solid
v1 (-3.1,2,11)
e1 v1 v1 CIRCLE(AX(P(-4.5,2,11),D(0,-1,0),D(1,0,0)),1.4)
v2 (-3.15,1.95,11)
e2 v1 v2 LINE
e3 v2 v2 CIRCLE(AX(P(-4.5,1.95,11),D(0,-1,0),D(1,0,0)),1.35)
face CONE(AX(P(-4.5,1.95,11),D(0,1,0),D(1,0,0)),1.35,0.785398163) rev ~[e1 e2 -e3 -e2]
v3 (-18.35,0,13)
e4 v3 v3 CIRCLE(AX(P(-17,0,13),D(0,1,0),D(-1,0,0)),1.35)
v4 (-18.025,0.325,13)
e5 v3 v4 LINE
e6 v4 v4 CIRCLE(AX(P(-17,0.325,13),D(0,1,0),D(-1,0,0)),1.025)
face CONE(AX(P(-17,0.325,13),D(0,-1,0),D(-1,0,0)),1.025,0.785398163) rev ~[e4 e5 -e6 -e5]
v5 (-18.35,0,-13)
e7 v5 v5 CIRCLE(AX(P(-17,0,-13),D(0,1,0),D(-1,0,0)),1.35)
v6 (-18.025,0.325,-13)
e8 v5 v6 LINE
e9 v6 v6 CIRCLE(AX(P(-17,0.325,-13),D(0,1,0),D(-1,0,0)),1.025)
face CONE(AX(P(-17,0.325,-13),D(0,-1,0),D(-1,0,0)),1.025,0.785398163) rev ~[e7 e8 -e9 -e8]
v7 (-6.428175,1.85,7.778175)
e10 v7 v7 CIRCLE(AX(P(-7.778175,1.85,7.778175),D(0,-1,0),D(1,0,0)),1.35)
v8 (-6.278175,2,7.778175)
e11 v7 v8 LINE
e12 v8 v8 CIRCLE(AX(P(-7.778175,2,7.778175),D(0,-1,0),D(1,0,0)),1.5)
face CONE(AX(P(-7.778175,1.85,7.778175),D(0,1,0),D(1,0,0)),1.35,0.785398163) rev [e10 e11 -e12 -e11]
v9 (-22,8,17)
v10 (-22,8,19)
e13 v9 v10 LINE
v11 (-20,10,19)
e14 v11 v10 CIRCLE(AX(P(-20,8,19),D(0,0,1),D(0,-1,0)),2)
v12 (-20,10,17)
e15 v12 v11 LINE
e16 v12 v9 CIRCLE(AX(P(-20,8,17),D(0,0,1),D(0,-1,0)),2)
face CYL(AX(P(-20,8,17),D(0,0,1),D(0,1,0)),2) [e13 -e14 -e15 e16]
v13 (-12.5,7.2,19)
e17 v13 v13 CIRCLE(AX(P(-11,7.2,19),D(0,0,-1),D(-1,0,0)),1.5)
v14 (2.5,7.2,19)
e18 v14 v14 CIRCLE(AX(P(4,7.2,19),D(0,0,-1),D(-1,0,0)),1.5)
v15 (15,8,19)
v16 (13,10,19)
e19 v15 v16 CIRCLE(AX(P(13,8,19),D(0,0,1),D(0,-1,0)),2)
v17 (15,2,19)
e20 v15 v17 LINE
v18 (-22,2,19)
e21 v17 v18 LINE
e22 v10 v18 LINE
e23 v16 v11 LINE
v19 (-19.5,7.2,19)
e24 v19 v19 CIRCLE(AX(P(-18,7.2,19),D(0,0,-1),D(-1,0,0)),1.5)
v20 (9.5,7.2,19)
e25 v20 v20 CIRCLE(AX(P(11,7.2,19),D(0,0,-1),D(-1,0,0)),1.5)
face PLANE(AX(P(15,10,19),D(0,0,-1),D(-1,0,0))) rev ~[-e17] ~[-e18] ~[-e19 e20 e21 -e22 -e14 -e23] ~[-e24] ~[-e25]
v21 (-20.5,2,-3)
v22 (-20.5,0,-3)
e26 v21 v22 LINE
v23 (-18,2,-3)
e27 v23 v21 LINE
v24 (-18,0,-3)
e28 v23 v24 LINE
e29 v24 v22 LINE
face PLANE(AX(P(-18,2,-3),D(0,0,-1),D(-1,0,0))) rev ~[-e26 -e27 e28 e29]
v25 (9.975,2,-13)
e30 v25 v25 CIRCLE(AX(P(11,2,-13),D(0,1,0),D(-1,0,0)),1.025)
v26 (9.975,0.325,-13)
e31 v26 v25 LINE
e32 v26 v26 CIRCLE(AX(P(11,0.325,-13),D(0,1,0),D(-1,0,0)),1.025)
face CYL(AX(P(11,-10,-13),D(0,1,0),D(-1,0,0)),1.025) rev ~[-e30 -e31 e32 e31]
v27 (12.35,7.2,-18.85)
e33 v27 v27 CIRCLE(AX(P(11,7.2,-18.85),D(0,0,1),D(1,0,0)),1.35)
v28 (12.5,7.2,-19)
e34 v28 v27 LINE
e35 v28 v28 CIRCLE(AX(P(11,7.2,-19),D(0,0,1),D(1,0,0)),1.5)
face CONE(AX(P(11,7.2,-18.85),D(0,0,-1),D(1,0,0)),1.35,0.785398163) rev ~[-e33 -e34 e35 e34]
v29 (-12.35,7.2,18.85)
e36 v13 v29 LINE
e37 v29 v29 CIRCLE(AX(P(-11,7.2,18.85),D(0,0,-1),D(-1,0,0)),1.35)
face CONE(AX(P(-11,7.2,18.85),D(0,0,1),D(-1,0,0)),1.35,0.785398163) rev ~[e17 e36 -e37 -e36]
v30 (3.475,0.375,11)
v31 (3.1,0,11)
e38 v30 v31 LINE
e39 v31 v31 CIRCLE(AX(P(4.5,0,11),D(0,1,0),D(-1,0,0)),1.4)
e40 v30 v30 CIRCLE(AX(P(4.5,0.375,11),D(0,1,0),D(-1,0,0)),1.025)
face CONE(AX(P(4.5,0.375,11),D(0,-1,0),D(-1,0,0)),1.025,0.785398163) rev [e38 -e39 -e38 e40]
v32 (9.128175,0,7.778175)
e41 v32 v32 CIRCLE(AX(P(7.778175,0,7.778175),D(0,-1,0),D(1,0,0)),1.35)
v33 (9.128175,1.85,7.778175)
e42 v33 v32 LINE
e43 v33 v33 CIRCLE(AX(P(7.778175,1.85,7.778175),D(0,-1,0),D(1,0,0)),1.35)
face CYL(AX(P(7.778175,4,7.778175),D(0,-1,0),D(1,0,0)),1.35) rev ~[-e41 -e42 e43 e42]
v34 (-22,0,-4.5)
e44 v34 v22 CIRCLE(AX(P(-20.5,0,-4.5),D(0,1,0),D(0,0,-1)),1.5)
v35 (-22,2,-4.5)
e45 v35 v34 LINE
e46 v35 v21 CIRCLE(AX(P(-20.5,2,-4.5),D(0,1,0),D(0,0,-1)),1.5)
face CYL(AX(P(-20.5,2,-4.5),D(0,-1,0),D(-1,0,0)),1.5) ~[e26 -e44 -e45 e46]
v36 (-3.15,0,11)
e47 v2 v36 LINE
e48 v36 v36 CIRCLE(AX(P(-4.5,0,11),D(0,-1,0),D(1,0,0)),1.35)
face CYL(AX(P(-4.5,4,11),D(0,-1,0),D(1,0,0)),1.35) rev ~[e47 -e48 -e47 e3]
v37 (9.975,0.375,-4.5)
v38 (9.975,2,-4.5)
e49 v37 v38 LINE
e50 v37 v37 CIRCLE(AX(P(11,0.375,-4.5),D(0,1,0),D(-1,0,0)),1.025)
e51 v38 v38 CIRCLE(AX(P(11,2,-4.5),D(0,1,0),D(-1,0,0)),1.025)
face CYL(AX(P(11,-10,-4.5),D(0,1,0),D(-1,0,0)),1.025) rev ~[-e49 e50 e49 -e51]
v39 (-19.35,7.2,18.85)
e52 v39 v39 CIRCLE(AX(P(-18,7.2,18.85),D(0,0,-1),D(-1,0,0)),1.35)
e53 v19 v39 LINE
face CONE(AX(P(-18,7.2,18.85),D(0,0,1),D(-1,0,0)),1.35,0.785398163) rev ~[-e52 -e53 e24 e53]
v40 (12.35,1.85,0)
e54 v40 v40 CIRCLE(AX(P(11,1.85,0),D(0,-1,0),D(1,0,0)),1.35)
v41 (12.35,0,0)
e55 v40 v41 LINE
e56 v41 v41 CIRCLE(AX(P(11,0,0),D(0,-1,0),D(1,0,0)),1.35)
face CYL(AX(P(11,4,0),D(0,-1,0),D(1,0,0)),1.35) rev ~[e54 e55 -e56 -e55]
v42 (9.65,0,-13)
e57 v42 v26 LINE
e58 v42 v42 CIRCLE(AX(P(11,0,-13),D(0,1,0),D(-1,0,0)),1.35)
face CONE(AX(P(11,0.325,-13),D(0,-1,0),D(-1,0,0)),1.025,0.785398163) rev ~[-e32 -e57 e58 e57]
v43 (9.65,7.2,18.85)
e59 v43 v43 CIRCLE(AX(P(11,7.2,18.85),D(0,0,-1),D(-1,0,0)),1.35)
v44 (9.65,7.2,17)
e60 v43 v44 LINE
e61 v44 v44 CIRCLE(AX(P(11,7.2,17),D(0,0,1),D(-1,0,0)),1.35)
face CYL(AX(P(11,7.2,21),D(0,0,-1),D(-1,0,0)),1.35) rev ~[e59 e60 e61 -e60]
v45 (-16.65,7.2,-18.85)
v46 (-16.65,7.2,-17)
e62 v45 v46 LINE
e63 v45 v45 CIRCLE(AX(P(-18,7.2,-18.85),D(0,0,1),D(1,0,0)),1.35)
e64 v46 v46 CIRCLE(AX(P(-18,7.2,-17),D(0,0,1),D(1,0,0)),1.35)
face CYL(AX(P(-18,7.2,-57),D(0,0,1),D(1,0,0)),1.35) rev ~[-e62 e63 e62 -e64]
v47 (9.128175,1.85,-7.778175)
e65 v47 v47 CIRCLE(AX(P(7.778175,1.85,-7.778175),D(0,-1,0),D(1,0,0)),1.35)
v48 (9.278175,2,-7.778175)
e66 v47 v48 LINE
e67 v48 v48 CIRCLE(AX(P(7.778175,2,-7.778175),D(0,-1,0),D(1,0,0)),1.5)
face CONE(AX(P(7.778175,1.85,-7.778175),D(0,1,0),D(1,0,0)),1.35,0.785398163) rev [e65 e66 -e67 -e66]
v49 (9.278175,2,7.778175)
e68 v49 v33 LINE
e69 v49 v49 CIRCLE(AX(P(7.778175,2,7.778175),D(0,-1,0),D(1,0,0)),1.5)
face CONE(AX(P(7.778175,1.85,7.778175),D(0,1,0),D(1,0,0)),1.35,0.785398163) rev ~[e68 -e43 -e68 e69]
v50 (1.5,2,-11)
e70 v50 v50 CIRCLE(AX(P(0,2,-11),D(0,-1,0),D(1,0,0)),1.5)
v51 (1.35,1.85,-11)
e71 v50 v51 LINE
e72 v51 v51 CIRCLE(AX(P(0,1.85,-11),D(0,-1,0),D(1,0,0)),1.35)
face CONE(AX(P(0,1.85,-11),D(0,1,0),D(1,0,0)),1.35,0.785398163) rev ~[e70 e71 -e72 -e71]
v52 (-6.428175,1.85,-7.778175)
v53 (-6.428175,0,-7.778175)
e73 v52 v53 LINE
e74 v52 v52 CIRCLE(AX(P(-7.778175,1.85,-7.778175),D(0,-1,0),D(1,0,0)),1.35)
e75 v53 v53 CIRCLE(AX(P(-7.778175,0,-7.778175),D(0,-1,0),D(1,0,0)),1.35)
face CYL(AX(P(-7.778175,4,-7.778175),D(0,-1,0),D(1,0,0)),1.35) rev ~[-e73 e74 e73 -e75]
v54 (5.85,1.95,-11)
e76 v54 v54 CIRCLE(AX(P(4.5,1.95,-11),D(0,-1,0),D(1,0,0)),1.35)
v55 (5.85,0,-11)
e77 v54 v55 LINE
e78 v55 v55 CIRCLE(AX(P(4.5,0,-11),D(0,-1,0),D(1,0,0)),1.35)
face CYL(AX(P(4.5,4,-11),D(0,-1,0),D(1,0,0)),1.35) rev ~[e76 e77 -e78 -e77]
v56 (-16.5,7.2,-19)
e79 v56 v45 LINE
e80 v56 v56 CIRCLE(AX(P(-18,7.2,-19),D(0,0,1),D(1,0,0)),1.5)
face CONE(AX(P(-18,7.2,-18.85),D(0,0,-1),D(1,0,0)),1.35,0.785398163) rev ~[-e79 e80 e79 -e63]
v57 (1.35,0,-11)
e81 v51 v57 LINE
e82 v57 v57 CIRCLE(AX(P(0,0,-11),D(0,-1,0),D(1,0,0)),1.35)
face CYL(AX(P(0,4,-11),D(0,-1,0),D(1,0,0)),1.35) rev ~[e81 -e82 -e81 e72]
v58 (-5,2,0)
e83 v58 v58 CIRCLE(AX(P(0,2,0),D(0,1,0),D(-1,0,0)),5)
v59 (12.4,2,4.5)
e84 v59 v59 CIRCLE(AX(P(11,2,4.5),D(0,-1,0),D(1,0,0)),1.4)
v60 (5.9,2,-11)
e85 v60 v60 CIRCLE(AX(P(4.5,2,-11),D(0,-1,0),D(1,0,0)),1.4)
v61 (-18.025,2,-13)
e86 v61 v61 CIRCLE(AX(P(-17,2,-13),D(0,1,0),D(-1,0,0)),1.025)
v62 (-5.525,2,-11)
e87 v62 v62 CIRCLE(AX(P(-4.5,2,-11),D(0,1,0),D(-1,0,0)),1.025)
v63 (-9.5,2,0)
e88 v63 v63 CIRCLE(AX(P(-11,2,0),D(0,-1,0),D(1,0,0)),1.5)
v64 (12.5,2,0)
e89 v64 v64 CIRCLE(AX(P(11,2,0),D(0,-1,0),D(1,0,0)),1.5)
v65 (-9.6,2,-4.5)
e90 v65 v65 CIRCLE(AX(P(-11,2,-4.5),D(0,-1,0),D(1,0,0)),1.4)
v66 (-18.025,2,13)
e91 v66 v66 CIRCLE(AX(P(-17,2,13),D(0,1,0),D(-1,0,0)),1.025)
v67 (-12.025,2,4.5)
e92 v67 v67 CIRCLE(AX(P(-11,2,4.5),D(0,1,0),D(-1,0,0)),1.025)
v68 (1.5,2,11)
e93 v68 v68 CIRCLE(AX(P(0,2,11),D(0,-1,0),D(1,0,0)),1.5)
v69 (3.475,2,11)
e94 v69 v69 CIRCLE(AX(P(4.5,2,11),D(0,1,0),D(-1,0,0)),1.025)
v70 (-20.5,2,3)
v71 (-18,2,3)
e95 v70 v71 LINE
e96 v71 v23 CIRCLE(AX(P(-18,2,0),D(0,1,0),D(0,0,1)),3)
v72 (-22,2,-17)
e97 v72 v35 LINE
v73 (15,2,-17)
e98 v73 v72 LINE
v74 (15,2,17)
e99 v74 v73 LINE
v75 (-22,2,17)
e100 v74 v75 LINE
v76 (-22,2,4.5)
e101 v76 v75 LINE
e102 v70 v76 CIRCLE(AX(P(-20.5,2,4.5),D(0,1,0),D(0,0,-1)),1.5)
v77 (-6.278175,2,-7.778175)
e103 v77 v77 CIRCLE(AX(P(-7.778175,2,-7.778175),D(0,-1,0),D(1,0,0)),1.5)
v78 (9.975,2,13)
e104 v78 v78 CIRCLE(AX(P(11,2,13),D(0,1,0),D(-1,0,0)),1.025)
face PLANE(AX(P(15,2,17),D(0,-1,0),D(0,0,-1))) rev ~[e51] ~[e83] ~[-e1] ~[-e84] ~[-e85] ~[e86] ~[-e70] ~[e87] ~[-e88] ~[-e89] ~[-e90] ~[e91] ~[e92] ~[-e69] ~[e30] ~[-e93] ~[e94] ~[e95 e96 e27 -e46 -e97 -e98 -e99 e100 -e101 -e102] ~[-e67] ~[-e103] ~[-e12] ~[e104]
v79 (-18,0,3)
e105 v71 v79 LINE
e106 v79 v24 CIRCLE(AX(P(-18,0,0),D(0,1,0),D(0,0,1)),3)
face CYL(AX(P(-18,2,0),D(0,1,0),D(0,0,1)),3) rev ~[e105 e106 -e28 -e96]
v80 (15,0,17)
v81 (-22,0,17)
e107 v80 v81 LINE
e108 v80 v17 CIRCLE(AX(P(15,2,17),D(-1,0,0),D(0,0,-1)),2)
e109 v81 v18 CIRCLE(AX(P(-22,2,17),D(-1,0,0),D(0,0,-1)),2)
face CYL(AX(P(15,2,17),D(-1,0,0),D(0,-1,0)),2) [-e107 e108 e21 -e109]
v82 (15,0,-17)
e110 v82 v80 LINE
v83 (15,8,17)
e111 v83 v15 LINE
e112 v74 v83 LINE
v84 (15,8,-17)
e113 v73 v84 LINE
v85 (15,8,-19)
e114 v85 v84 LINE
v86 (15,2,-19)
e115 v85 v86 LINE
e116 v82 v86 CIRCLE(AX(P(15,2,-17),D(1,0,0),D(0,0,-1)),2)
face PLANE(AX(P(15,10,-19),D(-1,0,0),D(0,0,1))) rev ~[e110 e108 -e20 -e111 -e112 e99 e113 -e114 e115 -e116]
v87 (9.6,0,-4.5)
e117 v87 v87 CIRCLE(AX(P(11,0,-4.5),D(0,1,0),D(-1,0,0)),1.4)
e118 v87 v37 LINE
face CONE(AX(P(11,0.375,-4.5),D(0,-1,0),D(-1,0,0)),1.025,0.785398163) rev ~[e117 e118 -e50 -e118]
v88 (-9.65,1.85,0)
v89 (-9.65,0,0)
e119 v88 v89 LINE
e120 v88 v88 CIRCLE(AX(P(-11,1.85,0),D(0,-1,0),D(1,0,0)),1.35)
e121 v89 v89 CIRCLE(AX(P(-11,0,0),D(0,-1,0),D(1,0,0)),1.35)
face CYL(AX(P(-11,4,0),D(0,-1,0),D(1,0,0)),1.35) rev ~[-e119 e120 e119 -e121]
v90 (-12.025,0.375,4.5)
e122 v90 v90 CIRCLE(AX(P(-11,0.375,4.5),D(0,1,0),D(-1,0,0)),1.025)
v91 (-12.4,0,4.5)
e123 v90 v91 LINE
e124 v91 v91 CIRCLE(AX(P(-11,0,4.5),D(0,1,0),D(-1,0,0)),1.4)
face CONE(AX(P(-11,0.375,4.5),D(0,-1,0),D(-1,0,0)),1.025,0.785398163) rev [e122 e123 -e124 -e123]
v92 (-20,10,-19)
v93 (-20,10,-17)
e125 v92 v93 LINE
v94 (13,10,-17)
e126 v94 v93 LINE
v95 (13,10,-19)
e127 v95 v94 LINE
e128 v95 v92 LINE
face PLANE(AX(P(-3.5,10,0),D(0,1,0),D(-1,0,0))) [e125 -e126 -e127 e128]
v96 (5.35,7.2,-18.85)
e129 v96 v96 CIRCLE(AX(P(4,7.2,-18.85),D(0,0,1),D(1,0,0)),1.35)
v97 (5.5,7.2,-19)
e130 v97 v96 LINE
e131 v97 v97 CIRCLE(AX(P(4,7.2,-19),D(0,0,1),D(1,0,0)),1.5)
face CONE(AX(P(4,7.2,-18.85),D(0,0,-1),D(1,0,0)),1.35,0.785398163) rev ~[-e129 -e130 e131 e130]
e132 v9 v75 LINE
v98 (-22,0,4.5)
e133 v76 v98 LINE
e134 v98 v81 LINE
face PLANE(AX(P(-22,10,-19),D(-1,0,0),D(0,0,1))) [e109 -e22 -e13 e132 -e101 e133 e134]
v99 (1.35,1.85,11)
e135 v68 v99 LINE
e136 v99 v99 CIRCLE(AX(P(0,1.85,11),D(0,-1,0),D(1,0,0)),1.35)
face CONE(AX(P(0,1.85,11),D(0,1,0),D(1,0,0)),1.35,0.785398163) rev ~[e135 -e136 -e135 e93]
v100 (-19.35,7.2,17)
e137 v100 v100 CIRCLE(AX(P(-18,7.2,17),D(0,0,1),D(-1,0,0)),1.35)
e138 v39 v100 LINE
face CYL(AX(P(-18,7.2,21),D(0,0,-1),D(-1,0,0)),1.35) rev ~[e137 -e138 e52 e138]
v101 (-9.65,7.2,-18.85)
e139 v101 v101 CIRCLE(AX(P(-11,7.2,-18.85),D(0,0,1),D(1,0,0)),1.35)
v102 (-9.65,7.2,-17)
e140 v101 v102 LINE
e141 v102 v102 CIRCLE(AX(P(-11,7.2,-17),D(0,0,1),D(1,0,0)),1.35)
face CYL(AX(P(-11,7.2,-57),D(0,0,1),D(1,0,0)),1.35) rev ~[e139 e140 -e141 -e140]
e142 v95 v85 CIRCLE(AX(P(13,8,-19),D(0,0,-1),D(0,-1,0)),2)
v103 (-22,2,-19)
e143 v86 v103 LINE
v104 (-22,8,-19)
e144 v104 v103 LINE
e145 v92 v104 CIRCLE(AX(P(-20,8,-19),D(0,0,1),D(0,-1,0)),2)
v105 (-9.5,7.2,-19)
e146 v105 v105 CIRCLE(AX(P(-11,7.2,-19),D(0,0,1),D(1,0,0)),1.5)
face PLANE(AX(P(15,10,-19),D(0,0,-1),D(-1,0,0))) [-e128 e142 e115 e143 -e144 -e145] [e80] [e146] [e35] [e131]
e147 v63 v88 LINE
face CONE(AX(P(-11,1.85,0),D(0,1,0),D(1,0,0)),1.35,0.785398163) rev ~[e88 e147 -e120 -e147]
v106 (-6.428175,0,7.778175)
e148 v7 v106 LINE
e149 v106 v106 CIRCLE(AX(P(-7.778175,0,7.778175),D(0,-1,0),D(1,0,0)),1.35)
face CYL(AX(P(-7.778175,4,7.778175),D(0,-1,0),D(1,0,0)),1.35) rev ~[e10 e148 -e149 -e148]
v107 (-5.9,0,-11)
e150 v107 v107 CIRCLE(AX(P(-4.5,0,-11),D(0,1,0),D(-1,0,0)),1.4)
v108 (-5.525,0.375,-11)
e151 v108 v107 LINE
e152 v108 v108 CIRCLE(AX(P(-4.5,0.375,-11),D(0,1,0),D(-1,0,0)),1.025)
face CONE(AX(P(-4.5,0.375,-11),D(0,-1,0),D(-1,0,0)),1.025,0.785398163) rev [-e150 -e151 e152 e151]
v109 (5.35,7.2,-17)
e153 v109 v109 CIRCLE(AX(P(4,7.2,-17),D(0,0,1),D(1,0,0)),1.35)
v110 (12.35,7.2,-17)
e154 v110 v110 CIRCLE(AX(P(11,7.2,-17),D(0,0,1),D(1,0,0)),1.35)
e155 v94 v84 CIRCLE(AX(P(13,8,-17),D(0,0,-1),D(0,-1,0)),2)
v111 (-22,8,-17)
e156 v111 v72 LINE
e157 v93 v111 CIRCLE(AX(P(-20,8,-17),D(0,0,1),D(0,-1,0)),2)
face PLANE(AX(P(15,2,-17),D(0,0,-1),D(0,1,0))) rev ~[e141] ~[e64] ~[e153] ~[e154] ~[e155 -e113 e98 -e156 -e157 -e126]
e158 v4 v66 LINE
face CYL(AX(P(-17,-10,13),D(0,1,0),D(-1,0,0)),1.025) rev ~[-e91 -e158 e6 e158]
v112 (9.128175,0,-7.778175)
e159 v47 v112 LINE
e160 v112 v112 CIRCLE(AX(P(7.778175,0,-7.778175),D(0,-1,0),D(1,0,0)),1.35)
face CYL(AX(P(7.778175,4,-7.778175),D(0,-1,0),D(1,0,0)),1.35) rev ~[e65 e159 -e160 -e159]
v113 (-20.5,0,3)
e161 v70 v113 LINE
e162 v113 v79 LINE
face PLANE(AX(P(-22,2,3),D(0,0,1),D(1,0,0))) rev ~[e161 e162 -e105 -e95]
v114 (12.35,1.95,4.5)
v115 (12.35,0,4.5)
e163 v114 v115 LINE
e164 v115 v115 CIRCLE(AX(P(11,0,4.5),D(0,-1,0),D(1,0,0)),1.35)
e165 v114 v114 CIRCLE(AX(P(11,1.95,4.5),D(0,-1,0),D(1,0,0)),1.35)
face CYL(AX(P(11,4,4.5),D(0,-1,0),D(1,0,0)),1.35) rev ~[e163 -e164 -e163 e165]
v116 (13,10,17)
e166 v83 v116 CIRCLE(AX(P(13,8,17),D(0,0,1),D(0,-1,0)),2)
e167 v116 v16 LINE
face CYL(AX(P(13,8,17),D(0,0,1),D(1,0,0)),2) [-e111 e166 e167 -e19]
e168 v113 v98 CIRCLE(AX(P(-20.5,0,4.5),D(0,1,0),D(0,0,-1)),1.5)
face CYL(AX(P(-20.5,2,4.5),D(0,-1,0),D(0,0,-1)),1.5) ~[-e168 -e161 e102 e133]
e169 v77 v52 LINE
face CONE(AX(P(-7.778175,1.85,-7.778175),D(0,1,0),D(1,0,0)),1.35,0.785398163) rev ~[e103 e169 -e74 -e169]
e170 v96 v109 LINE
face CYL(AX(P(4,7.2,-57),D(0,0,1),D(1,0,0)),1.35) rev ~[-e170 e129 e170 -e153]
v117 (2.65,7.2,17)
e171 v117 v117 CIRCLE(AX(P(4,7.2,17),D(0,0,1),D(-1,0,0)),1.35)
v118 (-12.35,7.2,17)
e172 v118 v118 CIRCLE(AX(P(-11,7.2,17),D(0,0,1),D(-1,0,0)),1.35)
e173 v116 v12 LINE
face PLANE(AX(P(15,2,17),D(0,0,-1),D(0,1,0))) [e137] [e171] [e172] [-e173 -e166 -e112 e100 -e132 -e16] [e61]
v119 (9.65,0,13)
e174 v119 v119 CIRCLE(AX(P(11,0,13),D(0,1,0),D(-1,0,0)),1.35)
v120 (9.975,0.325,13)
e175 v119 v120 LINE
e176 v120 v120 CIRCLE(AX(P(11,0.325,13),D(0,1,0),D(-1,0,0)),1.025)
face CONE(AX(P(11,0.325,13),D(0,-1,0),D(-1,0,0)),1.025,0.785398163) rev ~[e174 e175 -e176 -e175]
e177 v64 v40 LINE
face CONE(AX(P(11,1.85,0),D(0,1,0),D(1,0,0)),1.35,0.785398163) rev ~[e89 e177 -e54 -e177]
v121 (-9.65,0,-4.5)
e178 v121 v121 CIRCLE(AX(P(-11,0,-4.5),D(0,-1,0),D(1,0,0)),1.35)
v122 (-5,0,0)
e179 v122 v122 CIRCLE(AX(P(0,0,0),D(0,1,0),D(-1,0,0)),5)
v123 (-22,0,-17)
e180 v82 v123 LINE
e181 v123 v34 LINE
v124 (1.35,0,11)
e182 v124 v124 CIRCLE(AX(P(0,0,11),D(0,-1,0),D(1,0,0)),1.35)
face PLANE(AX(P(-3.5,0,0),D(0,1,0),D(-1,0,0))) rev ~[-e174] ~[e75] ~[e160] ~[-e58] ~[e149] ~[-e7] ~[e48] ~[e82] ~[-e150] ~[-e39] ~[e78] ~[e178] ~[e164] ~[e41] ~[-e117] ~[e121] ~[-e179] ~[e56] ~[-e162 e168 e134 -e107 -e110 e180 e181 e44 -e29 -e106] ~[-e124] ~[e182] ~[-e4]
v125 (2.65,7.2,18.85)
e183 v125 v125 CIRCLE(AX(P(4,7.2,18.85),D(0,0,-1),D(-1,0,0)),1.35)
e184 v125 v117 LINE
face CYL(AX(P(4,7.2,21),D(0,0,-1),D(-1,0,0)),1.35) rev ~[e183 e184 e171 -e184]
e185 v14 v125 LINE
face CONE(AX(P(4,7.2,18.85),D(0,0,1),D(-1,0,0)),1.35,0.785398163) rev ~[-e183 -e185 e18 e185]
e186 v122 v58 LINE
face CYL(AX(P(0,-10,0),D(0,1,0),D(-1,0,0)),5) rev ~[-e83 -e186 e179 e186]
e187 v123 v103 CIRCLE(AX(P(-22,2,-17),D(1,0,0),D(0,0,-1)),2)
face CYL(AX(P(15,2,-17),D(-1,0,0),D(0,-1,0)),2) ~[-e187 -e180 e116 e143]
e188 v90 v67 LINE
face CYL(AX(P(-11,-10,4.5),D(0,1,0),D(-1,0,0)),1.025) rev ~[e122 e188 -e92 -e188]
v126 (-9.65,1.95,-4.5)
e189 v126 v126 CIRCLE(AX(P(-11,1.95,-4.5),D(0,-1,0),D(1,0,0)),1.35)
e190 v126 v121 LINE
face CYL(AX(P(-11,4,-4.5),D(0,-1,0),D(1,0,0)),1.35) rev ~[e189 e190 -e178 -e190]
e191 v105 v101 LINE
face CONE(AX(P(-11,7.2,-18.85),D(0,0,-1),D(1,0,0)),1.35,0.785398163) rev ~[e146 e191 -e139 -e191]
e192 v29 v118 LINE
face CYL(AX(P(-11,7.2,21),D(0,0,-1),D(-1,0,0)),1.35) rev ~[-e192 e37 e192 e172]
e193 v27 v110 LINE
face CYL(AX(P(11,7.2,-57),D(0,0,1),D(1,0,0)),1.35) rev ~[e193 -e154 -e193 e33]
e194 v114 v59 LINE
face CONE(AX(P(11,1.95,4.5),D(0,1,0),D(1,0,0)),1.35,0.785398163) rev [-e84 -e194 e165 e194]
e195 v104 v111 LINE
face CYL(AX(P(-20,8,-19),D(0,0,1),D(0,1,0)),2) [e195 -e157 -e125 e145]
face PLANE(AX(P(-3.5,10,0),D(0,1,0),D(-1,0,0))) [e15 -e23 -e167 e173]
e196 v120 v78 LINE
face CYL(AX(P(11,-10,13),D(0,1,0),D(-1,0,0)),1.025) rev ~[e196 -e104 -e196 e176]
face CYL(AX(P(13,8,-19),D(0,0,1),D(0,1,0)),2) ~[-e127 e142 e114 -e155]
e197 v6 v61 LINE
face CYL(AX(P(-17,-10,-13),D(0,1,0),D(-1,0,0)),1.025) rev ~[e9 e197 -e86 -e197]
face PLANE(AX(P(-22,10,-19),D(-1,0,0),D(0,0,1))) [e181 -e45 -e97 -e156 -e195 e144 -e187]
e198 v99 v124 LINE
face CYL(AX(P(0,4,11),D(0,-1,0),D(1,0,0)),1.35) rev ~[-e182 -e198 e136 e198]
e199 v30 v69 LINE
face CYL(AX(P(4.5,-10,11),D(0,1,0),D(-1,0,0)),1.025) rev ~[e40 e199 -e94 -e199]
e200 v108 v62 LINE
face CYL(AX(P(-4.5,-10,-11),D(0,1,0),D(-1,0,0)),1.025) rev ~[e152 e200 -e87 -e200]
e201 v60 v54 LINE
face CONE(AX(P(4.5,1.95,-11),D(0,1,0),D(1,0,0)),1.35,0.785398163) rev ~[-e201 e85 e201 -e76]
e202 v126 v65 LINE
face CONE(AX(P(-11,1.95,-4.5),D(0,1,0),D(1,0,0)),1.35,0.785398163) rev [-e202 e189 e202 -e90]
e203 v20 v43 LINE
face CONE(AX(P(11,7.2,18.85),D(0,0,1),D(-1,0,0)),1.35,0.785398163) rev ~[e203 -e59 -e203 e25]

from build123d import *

# Parameters (mm, degrees)
SKETCH1_W           = 37
SKETCH1_H           = 38
BOSS_EXTRUDE1_DEPTH = 10
SKETCH2_W           = 34
SKETCH2_H           = 8
CUT_EXTRUDE1_DEPTH  = 38
CUT_EXTRUDE2_DEPTH  = 3
HOLE1_D             = 2.05
HOLE1_DEPTH         = 10
HOLE2_D             = 2.05
HOLE2_DEPTH         = 10
HOLE3_D             = 2.05
HOLE3_DEPTH         = 10
HOLE4_D             = 2.05
HOLE4_DEPTH         = 10
HOLE5_D             = 2.05
HOLE5_DEPTH         = 10
HOLE6_D             = 2.05
HOLE6_DEPTH         = 10
HOLE7_D             = 2.05
HOLE7_DEPTH         = 10
HOLE8_D             = 2.05
HOLE8_DEPTH         = 10
HOLE9_D             = 10
HOLE9_DEPTH         = 10
HOLE10_D            = 2.7
HOLE10_DEPTH        = 2
HOLE11_D            = 2.7
HOLE11_DEPTH        = 2
HOLE12_D            = 2.7
HOLE12_DEPTH        = 2
HOLE13_D            = 2.7
HOLE13_DEPTH        = 2
HOLE14_D            = 2.7
HOLE14_DEPTH        = 2
HOLE15_D            = 2.7
HOLE15_DEPTH        = 2
HOLE16_D            = 2.7
HOLE16_DEPTH        = 2
HOLE17_D            = 2.7
HOLE17_DEPTH        = 2
HOLE18_D            = 2.7
HOLE18_DEPTH        = 2
HOLE19_D            = 2.7
HOLE19_DEPTH        = 2
HOLE20_D            = 2.7
HOLE20_DEPTH        = 2
HOLE21_D            = 2.7
HOLE21_DEPTH        = 2
HOLE22_D            = 2.7
HOLE22_DEPTH        = 2
HOLE23_D            = 2.7
HOLE23_DEPTH        = 2
HOLE24_D            = 2.7
HOLE24_DEPTH        = 2
HOLE25_D            = 2.7
HOLE25_DEPTH        = 2
HOLE26_D            = 2.7
HOLE26_DEPTH        = 38
HOLE27_D            = 2.7
HOLE27_DEPTH        = 38
HOLE28_D            = 2.7
HOLE28_DEPTH        = 38
HOLE29_D            = 2.7
HOLE29_DEPTH        = 38
CHAMFER1_SIZE       = 0.15
CHAMFER2_SIZE       = 0.15
CHAMFER3_SIZE       = 0.15
CHAMFER4_SIZE       = 0.15
CHAMFER5_SIZE       = 0.15
CHAMFER6_SIZE       = 0.15
CHAMFER7_SIZE       = 0.15
CHAMFER8_SIZE       = 0.15
CHAMFER9_SIZE       = 0.15
CHAMFER10_SIZE      = 0.15
CHAMFER11_SIZE      = 0.15
CHAMFER12_SIZE      = 0.05
CHAMFER13_SIZE      = 0.375
CHAMFER14_SIZE      = 0.05
CHAMFER15_SIZE      = 0.375
CHAMFER16_SIZE      = 0.15
CHAMFER17_SIZE      = 0.375
CHAMFER18_SIZE      = 0.325
CHAMFER19_SIZE      = 0.375
CHAMFER20_SIZE      = 0.15
CHAMFER21_SIZE      = 0.325
CHAMFER22_SIZE      = 0.05
CHAMFER23_SIZE      = 0.325
CHAMFER24_SIZE      = 0.15
CHAMFER25_SIZE      = 0.325
CHAMFER26_SIZE      = 0.05
CHAMFER27_SIZE      = 0.15
CHAMFER28_SIZE      = 0.15
FILLET1_R           = 1.5
FILLET2_R           = 1.5
FILLET3_R           = 2
FILLET4_R           = 2
FILLET5_R           = 2
FILLET6_R           = 2
FILLET7_R           = 2
FILLET8_R           = 2


with BuildPart() as part:
    # Sketch1 → Boss-Extrude1 (new body)
    with BuildSketch(Plane(origin=(0, 10, 0), x_dir=(-1, 0, 0), z_dir=(0, 1, 0))):
        with Locations((3.5, 0)):
            Rectangle(SKETCH1_W, SKETCH1_H)
    extrude(amount=-BOSS_EXTRUDE1_DEPTH)

    # Sketch2 → Cut-Extrude1 (cut, through all)
    with BuildSketch(Plane(origin=(15, 0, 0), x_dir=(0, 0, -1), z_dir=(1, 0, 0))):
        with Locations((0, 6)):
            Rectangle(SKETCH2_W, SKETCH2_H)
    extrude(amount=-CUT_EXTRUDE1_DEPTH, mode=Mode.SUBTRACT)

    # Sketch3 → Cut-Extrude2 (cut, through all)
    with BuildSketch(Plane(origin=(0, 2, 0), x_dir=(-1, 0, 0), z_dir=(0, 1, 0))):
        with BuildLine():
            Line((22, -3), (22, 3))
            Line((22, 3), (18, 3))
            ThreePointArc((18, 3), (15, 0), (18, -3))
            Line((18, -3), (22, -3))
        make_face()
    extrude(amount=-CUT_EXTRUDE2_DEPTH, mode=Mode.SUBTRACT)

    # Hole1
    with Locations(Plane.XZ):
        with Locations((-4.5, -11)):
            Hole(HOLE1_D / 2, depth=HOLE1_DEPTH)

    # Hole2
    with Locations(Plane.XZ):
        with Locations((-11, 4.5)):
            Hole(HOLE2_D / 2, depth=HOLE2_DEPTH)

    # Hole3
    with Locations(Plane.XZ):
        with Locations((4.5, 11)):
            Hole(HOLE3_D / 2, depth=HOLE3_DEPTH)

    # Hole4
    with Locations(Plane.XZ):
        with Locations((11, -4.5)):
            Hole(HOLE4_D / 2, depth=HOLE4_DEPTH)

    # Hole5
    with Locations(Plane.XZ):
        with Locations((-17, 13)):
            Hole(HOLE5_D / 2, depth=HOLE5_DEPTH)

    # Hole6
    with Locations(Plane.XZ):
        with Locations((-17, -13)):
            Hole(HOLE6_D / 2, depth=HOLE6_DEPTH)

    # Hole7
    with Locations(Plane.XZ):
        with Locations((11, 13)):
            Hole(HOLE7_D / 2, depth=HOLE7_DEPTH)

    # Hole8
    with Locations(Plane.XZ):
        with Locations((11, -13)):
            Hole(HOLE8_D / 2, depth=HOLE8_DEPTH)

    # Hole9
    with Locations(Plane.XZ):
        with Locations((0, 0)):
            Hole(HOLE9_D / 2, depth=HOLE9_DEPTH)

    # Hole10
    with Locations(Plane(origin=(0, 2, 0), x_dir=(-1, 0, 0), z_dir=(0, 1, 0))):
        with Locations((11, -4.5)):
            Hole(HOLE10_D / 2, depth=HOLE10_DEPTH)

    # Hole11
    with Locations(Plane(origin=(0, 2, 0), x_dir=(-1, 0, 0), z_dir=(0, 1, 0))):
        with Locations((4.5, 11)):
            Hole(HOLE11_D / 2, depth=HOLE11_DEPTH)

    # Hole12
    with Locations(Plane(origin=(0, 2, 0), x_dir=(-1, 0, 0), z_dir=(0, 1, 0))):
        with Locations((-11, 4.5)):
            Hole(HOLE12_D / 2, depth=HOLE12_DEPTH)

    # Hole13
    with Locations(Plane(origin=(0, 2, 0), x_dir=(-1, 0, 0), z_dir=(0, 1, 0))):
        with Locations((-4.5, -11)):
            Hole(HOLE13_D / 2, depth=HOLE13_DEPTH)

    # Hole14
    with Locations(Plane(origin=(0, 2, 0), x_dir=(-1, 0, 0), z_dir=(0, 1, 0))):
        with Locations((-7.778174593, 7.778174593)):
            Hole(HOLE14_D / 2, depth=HOLE14_DEPTH)

    # Hole15
    with Locations(Plane(origin=(0, 2, 0), x_dir=(-1, 0, 0), z_dir=(0, 1, 0))):
        with Locations((0, 11)):
            Hole(HOLE15_D / 2, depth=HOLE15_DEPTH)

    # Hole16
    with Locations(Plane(origin=(0, 2, 0), x_dir=(-1, 0, 0), z_dir=(0, 1, 0))):
        with Locations((7.778174593, 7.778174593)):
            Hole(HOLE16_D / 2, depth=HOLE16_DEPTH)

    # Hole17
    with Locations(Plane(origin=(0, 2, 0), x_dir=(-1, 0, 0), z_dir=(0, 1, 0))):
        with Locations((11, 0)):
            Hole(HOLE17_D / 2, depth=HOLE17_DEPTH)

    # Hole18
    with Locations(Plane(origin=(0, 2, 0), x_dir=(-1, 0, 0), z_dir=(0, 1, 0))):
        with Locations((7.778174593, -7.778174593)):
            Hole(HOLE18_D / 2, depth=HOLE18_DEPTH)

    # Hole19
    with Locations(Plane(origin=(0, 2, 0), x_dir=(-1, 0, 0), z_dir=(0, 1, 0))):
        with Locations((0, -11)):
            Hole(HOLE19_D / 2, depth=HOLE19_DEPTH)

    # Hole20
    with Locations(Plane(origin=(0, 2, 0), x_dir=(-1, 0, 0), z_dir=(0, 1, 0))):
        with Locations((-7.778174593, -7.778174593)):
            Hole(HOLE20_D / 2, depth=HOLE20_DEPTH)

    # Hole21
    with Locations(Plane(origin=(0, 2, 0), x_dir=(-1, 0, 0), z_dir=(0, 1, 0))):
        with Locations((-11, 0)):
            Hole(HOLE21_D / 2, depth=HOLE21_DEPTH)

    # Hole22
    with Locations(Plane.XY.offset(19)):
        with Locations((-11, 7.2)):
            Hole(HOLE22_D / 2, depth=HOLE22_DEPTH)

    # Hole23
    with Locations(Plane.XY.offset(19)):
        with Locations((11, 7.2)):
            Hole(HOLE23_D / 2, depth=HOLE23_DEPTH)

    # Hole24
    with Locations(Plane.XY.offset(19)):
        with Locations((-18, 7.2)):
            Hole(HOLE24_D / 2, depth=HOLE24_DEPTH)

    # Hole25
    with Locations(Plane.XY.offset(19)):
        with Locations((4, 7.2)):
            Hole(HOLE25_D / 2, depth=HOLE25_DEPTH)

    # Hole26
    with Locations(Plane(origin=(0, 0, -19), x_dir=(-1, 0, 0), z_dir=(0, 0, -1))):
        with Locations((11, 7.2)):
            Hole(HOLE26_D / 2, depth=HOLE26_DEPTH)

    # Hole27
    with Locations(Plane(origin=(0, 0, -19), x_dir=(-1, 0, 0), z_dir=(0, 0, -1))):
        with Locations((-11, 7.2)):
            Hole(HOLE27_D / 2, depth=HOLE27_DEPTH)

    # Hole28
    with Locations(Plane(origin=(0, 0, -19), x_dir=(-1, 0, 0), z_dir=(0, 0, -1))):
        with Locations((18, 7.2)):
            Hole(HOLE28_D / 2, depth=HOLE28_DEPTH)

    # Hole29
    with Locations(Plane(origin=(0, 0, -19), x_dir=(-1, 0, 0), z_dir=(0, 0, -1))):
        with Locations((-4, 7.2)):
            Hole(HOLE29_D / 2, depth=HOLE29_DEPTH)

    # Chamfer1
    chamfer1_edges = [part.edges().sort_by_distance(p)[0] for p in [
        (6.428174593, 2, -7.778174593),
    ]]
    chamfer(chamfer1_edges, length=CHAMFER1_SIZE)

    # Chamfer2
    chamfer2_edges = [part.edges().sort_by_distance(p)[0] for p in [
        (2.65, 7.2, -19),
    ]]
    chamfer(chamfer2_edges, length=CHAMFER2_SIZE)

    # Chamfer3
    chamfer3_edges = [part.edges().sort_by_distance(p)[0] for p in [
        (9.65, 2, 0),
    ]]
    chamfer(chamfer3_edges, length=CHAMFER3_SIZE)

    # Chamfer4
    chamfer4_edges = [part.edges().sort_by_distance(p)[0] for p in [
        (-12.35, 2, 0),
    ]]
    chamfer(chamfer4_edges, length=CHAMFER4_SIZE)

    # Chamfer5
    chamfer5_edges = [part.edges().sort_by_distance(p)[0] for p in [
        (-9.128174593, 2, -7.778174593),
    ]]
    chamfer(chamfer5_edges, length=CHAMFER5_SIZE)

    # Chamfer6
    chamfer6_edges = [part.edges().sort_by_distance(p)[0] for p in [
        (-9.65, 7.2, 19),
    ]]
    chamfer(chamfer6_edges, length=CHAMFER6_SIZE)

    # Chamfer7
    chamfer7_edges = [part.edges().sort_by_distance(p)[0] for p in [
        (-1.35, 2, -11),
    ]]
    chamfer(chamfer7_edges, length=CHAMFER7_SIZE)

    # Chamfer8
    chamfer8_edges = [part.edges().sort_by_distance(p)[0] for p in [
        (-16.65, 7.2, 19),
    ]]
    chamfer(chamfer8_edges, length=CHAMFER8_SIZE)

    # Chamfer9
    chamfer9_edges = [part.edges().sort_by_distance(p)[0] for p in [
        (9.65, 7.2, -19),
    ]]
    chamfer(chamfer9_edges, length=CHAMFER9_SIZE)

    # Chamfer10
    chamfer10_edges = [part.edges().sort_by_distance(p)[0] for p in [
        (-12.35, 7.2, -19),
    ]]
    chamfer(chamfer10_edges, length=CHAMFER10_SIZE)

    # Chamfer11
    chamfer11_edges = [part.edges().sort_by_distance(p)[0] for p in [
        (-19.35, 7.2, -19),
    ]]
    chamfer(chamfer11_edges, length=CHAMFER11_SIZE)

    # Chamfer12
    chamfer12_edges = [part.edges().sort_by_distance(p)[0] for p in [
        (-5.85, 2, 11),
    ]]
    chamfer(chamfer12_edges, length=CHAMFER12_SIZE)

    # Chamfer13
    chamfer13_edges = [part.edges().sort_by_distance(p)[0] for p in [
        (-3.475, 0, -11),
    ]]
    chamfer(chamfer13_edges, length=CHAMFER13_SIZE)

    # Chamfer14
    chamfer14_edges = [part.edges().sort_by_distance(p)[0] for p in [
        (3.15, 2, -11),
    ]]
    chamfer(chamfer14_edges, length=CHAMFER14_SIZE)

    # Chamfer15
    chamfer15_edges = [part.edges().sort_by_distance(p)[0] for p in [
        (-9.975, 0, 4.5),
    ]]
    chamfer(chamfer15_edges, length=CHAMFER15_SIZE)

    # Chamfer16
    chamfer16_edges = [part.edges().sort_by_distance(p)[0] for p in [
        (-1.35, 2, 11),
    ]]
    chamfer(chamfer16_edges, length=CHAMFER16_SIZE)

    # Chamfer17
    chamfer17_edges = [part.edges().sort_by_distance(p)[0] for p in [
        (5.525, 0, 11),
    ]]
    chamfer(chamfer17_edges, length=CHAMFER17_SIZE)

    # Chamfer18
    chamfer18_edges = [part.edges().sort_by_distance(p)[0] for p in [
        (12.025, 0, -13),
    ]]
    chamfer(chamfer18_edges, length=CHAMFER18_SIZE)

    # Chamfer19
    chamfer19_edges = [part.edges().sort_by_distance(p)[0] for p in [
        (12.025, 0, -4.5),
    ]]
    chamfer(chamfer19_edges, length=CHAMFER19_SIZE)

    # Chamfer20
    chamfer20_edges = [part.edges().sort_by_distance(p)[0] for p in [
        (5.35, 7.2, 19),
    ]]
    chamfer(chamfer20_edges, length=CHAMFER20_SIZE)

    # Chamfer21
    chamfer21_edges = [part.edges().sort_by_distance(p)[0] for p in [
        (-15.975, 0, 13),
    ]]
    chamfer(chamfer21_edges, length=CHAMFER21_SIZE)

    # Chamfer22
    chamfer22_edges = [part.edges().sort_by_distance(p)[0] for p in [
        (9.65, 2, 4.5),
    ]]
    chamfer(chamfer22_edges, length=CHAMFER22_SIZE)

    # Chamfer23
    chamfer23_edges = [part.edges().sort_by_distance(p)[0] for p in [
        (-15.975, 0, -13),
    ]]
    chamfer(chamfer23_edges, length=CHAMFER23_SIZE)

    # Chamfer24
    chamfer24_edges = [part.edges().sort_by_distance(p)[0] for p in [
        (-9.128174593, 2, 7.778174593),
    ]]
    chamfer(chamfer24_edges, length=CHAMFER24_SIZE)

    # Chamfer25
    chamfer25_edges = [part.edges().sort_by_distance(p)[0] for p in [
        (12.025, 0, 13),
    ]]
    chamfer(chamfer25_edges, length=CHAMFER25_SIZE)

    # Chamfer26
    chamfer26_edges = [part.edges().sort_by_distance(p)[0] for p in [
        (-12.35, 2, -4.5),
    ]]
    chamfer(chamfer26_edges, length=CHAMFER26_SIZE)

    # Chamfer27
    chamfer27_edges = [part.edges().sort_by_distance(p)[0] for p in [
        (12.35, 7.2, 19),
    ]]
    chamfer(chamfer27_edges, length=CHAMFER27_SIZE)

    # Chamfer28
    chamfer28_edges = [part.edges().sort_by_distance(p)[0] for p in [
        (6.428174593, 2, 7.778174593),
    ]]
    chamfer(chamfer28_edges, length=CHAMFER28_SIZE)

    # Fillet1
    fillet1_edges = [part.edges().sort_by_distance(p)[0] for p in [
        (-22, 1, -3),
    ]]
    fillet(fillet1_edges, radius=FILLET1_R)

    # Fillet2
    fillet2_edges = [part.edges().sort_by_distance(p)[0] for p in [
        (-22, 1, 3),
    ]]
    fillet(fillet2_edges, radius=FILLET2_R)

    # Fillet3
    fillet3_edges = [part.edges().sort_by_distance(p)[0] for p in [
        (-3.5, 0, -19),
    ]]
    fillet(fillet3_edges, radius=FILLET3_R)

    # Fillet4
    fillet4_edges = [part.edges().sort_by_distance(p)[0] for p in [
        (15, 10, 18),
    ]]
    fillet(fillet4_edges, radius=FILLET4_R)

    # Fillet5
    fillet5_edges = [part.edges().sort_by_distance(p)[0] for p in [
        (-22, 10, 18),
    ]]
    fillet(fillet5_edges, radius=FILLET5_R)

    # Fillet6
    fillet6_edges = [part.edges().sort_by_distance(p)[0] for p in [
        (-22, 10, -18),
    ]]
    fillet(fillet6_edges, radius=FILLET6_R)

    # Fillet7
    fillet7_edges = [part.edges().sort_by_distance(p)[0] for p in [
        (15, 10, -18),
    ]]
    fillet(fillet7_edges, radius=FILLET7_R)

    # Fillet8
    fillet8_edges = [part.edges().sort_by_distance(p)[0] for p in [
        (-3.5, 0, 19),
    ]]
    fillet(fillet8_edges, radius=FILLET8_R)


solid = part.part
